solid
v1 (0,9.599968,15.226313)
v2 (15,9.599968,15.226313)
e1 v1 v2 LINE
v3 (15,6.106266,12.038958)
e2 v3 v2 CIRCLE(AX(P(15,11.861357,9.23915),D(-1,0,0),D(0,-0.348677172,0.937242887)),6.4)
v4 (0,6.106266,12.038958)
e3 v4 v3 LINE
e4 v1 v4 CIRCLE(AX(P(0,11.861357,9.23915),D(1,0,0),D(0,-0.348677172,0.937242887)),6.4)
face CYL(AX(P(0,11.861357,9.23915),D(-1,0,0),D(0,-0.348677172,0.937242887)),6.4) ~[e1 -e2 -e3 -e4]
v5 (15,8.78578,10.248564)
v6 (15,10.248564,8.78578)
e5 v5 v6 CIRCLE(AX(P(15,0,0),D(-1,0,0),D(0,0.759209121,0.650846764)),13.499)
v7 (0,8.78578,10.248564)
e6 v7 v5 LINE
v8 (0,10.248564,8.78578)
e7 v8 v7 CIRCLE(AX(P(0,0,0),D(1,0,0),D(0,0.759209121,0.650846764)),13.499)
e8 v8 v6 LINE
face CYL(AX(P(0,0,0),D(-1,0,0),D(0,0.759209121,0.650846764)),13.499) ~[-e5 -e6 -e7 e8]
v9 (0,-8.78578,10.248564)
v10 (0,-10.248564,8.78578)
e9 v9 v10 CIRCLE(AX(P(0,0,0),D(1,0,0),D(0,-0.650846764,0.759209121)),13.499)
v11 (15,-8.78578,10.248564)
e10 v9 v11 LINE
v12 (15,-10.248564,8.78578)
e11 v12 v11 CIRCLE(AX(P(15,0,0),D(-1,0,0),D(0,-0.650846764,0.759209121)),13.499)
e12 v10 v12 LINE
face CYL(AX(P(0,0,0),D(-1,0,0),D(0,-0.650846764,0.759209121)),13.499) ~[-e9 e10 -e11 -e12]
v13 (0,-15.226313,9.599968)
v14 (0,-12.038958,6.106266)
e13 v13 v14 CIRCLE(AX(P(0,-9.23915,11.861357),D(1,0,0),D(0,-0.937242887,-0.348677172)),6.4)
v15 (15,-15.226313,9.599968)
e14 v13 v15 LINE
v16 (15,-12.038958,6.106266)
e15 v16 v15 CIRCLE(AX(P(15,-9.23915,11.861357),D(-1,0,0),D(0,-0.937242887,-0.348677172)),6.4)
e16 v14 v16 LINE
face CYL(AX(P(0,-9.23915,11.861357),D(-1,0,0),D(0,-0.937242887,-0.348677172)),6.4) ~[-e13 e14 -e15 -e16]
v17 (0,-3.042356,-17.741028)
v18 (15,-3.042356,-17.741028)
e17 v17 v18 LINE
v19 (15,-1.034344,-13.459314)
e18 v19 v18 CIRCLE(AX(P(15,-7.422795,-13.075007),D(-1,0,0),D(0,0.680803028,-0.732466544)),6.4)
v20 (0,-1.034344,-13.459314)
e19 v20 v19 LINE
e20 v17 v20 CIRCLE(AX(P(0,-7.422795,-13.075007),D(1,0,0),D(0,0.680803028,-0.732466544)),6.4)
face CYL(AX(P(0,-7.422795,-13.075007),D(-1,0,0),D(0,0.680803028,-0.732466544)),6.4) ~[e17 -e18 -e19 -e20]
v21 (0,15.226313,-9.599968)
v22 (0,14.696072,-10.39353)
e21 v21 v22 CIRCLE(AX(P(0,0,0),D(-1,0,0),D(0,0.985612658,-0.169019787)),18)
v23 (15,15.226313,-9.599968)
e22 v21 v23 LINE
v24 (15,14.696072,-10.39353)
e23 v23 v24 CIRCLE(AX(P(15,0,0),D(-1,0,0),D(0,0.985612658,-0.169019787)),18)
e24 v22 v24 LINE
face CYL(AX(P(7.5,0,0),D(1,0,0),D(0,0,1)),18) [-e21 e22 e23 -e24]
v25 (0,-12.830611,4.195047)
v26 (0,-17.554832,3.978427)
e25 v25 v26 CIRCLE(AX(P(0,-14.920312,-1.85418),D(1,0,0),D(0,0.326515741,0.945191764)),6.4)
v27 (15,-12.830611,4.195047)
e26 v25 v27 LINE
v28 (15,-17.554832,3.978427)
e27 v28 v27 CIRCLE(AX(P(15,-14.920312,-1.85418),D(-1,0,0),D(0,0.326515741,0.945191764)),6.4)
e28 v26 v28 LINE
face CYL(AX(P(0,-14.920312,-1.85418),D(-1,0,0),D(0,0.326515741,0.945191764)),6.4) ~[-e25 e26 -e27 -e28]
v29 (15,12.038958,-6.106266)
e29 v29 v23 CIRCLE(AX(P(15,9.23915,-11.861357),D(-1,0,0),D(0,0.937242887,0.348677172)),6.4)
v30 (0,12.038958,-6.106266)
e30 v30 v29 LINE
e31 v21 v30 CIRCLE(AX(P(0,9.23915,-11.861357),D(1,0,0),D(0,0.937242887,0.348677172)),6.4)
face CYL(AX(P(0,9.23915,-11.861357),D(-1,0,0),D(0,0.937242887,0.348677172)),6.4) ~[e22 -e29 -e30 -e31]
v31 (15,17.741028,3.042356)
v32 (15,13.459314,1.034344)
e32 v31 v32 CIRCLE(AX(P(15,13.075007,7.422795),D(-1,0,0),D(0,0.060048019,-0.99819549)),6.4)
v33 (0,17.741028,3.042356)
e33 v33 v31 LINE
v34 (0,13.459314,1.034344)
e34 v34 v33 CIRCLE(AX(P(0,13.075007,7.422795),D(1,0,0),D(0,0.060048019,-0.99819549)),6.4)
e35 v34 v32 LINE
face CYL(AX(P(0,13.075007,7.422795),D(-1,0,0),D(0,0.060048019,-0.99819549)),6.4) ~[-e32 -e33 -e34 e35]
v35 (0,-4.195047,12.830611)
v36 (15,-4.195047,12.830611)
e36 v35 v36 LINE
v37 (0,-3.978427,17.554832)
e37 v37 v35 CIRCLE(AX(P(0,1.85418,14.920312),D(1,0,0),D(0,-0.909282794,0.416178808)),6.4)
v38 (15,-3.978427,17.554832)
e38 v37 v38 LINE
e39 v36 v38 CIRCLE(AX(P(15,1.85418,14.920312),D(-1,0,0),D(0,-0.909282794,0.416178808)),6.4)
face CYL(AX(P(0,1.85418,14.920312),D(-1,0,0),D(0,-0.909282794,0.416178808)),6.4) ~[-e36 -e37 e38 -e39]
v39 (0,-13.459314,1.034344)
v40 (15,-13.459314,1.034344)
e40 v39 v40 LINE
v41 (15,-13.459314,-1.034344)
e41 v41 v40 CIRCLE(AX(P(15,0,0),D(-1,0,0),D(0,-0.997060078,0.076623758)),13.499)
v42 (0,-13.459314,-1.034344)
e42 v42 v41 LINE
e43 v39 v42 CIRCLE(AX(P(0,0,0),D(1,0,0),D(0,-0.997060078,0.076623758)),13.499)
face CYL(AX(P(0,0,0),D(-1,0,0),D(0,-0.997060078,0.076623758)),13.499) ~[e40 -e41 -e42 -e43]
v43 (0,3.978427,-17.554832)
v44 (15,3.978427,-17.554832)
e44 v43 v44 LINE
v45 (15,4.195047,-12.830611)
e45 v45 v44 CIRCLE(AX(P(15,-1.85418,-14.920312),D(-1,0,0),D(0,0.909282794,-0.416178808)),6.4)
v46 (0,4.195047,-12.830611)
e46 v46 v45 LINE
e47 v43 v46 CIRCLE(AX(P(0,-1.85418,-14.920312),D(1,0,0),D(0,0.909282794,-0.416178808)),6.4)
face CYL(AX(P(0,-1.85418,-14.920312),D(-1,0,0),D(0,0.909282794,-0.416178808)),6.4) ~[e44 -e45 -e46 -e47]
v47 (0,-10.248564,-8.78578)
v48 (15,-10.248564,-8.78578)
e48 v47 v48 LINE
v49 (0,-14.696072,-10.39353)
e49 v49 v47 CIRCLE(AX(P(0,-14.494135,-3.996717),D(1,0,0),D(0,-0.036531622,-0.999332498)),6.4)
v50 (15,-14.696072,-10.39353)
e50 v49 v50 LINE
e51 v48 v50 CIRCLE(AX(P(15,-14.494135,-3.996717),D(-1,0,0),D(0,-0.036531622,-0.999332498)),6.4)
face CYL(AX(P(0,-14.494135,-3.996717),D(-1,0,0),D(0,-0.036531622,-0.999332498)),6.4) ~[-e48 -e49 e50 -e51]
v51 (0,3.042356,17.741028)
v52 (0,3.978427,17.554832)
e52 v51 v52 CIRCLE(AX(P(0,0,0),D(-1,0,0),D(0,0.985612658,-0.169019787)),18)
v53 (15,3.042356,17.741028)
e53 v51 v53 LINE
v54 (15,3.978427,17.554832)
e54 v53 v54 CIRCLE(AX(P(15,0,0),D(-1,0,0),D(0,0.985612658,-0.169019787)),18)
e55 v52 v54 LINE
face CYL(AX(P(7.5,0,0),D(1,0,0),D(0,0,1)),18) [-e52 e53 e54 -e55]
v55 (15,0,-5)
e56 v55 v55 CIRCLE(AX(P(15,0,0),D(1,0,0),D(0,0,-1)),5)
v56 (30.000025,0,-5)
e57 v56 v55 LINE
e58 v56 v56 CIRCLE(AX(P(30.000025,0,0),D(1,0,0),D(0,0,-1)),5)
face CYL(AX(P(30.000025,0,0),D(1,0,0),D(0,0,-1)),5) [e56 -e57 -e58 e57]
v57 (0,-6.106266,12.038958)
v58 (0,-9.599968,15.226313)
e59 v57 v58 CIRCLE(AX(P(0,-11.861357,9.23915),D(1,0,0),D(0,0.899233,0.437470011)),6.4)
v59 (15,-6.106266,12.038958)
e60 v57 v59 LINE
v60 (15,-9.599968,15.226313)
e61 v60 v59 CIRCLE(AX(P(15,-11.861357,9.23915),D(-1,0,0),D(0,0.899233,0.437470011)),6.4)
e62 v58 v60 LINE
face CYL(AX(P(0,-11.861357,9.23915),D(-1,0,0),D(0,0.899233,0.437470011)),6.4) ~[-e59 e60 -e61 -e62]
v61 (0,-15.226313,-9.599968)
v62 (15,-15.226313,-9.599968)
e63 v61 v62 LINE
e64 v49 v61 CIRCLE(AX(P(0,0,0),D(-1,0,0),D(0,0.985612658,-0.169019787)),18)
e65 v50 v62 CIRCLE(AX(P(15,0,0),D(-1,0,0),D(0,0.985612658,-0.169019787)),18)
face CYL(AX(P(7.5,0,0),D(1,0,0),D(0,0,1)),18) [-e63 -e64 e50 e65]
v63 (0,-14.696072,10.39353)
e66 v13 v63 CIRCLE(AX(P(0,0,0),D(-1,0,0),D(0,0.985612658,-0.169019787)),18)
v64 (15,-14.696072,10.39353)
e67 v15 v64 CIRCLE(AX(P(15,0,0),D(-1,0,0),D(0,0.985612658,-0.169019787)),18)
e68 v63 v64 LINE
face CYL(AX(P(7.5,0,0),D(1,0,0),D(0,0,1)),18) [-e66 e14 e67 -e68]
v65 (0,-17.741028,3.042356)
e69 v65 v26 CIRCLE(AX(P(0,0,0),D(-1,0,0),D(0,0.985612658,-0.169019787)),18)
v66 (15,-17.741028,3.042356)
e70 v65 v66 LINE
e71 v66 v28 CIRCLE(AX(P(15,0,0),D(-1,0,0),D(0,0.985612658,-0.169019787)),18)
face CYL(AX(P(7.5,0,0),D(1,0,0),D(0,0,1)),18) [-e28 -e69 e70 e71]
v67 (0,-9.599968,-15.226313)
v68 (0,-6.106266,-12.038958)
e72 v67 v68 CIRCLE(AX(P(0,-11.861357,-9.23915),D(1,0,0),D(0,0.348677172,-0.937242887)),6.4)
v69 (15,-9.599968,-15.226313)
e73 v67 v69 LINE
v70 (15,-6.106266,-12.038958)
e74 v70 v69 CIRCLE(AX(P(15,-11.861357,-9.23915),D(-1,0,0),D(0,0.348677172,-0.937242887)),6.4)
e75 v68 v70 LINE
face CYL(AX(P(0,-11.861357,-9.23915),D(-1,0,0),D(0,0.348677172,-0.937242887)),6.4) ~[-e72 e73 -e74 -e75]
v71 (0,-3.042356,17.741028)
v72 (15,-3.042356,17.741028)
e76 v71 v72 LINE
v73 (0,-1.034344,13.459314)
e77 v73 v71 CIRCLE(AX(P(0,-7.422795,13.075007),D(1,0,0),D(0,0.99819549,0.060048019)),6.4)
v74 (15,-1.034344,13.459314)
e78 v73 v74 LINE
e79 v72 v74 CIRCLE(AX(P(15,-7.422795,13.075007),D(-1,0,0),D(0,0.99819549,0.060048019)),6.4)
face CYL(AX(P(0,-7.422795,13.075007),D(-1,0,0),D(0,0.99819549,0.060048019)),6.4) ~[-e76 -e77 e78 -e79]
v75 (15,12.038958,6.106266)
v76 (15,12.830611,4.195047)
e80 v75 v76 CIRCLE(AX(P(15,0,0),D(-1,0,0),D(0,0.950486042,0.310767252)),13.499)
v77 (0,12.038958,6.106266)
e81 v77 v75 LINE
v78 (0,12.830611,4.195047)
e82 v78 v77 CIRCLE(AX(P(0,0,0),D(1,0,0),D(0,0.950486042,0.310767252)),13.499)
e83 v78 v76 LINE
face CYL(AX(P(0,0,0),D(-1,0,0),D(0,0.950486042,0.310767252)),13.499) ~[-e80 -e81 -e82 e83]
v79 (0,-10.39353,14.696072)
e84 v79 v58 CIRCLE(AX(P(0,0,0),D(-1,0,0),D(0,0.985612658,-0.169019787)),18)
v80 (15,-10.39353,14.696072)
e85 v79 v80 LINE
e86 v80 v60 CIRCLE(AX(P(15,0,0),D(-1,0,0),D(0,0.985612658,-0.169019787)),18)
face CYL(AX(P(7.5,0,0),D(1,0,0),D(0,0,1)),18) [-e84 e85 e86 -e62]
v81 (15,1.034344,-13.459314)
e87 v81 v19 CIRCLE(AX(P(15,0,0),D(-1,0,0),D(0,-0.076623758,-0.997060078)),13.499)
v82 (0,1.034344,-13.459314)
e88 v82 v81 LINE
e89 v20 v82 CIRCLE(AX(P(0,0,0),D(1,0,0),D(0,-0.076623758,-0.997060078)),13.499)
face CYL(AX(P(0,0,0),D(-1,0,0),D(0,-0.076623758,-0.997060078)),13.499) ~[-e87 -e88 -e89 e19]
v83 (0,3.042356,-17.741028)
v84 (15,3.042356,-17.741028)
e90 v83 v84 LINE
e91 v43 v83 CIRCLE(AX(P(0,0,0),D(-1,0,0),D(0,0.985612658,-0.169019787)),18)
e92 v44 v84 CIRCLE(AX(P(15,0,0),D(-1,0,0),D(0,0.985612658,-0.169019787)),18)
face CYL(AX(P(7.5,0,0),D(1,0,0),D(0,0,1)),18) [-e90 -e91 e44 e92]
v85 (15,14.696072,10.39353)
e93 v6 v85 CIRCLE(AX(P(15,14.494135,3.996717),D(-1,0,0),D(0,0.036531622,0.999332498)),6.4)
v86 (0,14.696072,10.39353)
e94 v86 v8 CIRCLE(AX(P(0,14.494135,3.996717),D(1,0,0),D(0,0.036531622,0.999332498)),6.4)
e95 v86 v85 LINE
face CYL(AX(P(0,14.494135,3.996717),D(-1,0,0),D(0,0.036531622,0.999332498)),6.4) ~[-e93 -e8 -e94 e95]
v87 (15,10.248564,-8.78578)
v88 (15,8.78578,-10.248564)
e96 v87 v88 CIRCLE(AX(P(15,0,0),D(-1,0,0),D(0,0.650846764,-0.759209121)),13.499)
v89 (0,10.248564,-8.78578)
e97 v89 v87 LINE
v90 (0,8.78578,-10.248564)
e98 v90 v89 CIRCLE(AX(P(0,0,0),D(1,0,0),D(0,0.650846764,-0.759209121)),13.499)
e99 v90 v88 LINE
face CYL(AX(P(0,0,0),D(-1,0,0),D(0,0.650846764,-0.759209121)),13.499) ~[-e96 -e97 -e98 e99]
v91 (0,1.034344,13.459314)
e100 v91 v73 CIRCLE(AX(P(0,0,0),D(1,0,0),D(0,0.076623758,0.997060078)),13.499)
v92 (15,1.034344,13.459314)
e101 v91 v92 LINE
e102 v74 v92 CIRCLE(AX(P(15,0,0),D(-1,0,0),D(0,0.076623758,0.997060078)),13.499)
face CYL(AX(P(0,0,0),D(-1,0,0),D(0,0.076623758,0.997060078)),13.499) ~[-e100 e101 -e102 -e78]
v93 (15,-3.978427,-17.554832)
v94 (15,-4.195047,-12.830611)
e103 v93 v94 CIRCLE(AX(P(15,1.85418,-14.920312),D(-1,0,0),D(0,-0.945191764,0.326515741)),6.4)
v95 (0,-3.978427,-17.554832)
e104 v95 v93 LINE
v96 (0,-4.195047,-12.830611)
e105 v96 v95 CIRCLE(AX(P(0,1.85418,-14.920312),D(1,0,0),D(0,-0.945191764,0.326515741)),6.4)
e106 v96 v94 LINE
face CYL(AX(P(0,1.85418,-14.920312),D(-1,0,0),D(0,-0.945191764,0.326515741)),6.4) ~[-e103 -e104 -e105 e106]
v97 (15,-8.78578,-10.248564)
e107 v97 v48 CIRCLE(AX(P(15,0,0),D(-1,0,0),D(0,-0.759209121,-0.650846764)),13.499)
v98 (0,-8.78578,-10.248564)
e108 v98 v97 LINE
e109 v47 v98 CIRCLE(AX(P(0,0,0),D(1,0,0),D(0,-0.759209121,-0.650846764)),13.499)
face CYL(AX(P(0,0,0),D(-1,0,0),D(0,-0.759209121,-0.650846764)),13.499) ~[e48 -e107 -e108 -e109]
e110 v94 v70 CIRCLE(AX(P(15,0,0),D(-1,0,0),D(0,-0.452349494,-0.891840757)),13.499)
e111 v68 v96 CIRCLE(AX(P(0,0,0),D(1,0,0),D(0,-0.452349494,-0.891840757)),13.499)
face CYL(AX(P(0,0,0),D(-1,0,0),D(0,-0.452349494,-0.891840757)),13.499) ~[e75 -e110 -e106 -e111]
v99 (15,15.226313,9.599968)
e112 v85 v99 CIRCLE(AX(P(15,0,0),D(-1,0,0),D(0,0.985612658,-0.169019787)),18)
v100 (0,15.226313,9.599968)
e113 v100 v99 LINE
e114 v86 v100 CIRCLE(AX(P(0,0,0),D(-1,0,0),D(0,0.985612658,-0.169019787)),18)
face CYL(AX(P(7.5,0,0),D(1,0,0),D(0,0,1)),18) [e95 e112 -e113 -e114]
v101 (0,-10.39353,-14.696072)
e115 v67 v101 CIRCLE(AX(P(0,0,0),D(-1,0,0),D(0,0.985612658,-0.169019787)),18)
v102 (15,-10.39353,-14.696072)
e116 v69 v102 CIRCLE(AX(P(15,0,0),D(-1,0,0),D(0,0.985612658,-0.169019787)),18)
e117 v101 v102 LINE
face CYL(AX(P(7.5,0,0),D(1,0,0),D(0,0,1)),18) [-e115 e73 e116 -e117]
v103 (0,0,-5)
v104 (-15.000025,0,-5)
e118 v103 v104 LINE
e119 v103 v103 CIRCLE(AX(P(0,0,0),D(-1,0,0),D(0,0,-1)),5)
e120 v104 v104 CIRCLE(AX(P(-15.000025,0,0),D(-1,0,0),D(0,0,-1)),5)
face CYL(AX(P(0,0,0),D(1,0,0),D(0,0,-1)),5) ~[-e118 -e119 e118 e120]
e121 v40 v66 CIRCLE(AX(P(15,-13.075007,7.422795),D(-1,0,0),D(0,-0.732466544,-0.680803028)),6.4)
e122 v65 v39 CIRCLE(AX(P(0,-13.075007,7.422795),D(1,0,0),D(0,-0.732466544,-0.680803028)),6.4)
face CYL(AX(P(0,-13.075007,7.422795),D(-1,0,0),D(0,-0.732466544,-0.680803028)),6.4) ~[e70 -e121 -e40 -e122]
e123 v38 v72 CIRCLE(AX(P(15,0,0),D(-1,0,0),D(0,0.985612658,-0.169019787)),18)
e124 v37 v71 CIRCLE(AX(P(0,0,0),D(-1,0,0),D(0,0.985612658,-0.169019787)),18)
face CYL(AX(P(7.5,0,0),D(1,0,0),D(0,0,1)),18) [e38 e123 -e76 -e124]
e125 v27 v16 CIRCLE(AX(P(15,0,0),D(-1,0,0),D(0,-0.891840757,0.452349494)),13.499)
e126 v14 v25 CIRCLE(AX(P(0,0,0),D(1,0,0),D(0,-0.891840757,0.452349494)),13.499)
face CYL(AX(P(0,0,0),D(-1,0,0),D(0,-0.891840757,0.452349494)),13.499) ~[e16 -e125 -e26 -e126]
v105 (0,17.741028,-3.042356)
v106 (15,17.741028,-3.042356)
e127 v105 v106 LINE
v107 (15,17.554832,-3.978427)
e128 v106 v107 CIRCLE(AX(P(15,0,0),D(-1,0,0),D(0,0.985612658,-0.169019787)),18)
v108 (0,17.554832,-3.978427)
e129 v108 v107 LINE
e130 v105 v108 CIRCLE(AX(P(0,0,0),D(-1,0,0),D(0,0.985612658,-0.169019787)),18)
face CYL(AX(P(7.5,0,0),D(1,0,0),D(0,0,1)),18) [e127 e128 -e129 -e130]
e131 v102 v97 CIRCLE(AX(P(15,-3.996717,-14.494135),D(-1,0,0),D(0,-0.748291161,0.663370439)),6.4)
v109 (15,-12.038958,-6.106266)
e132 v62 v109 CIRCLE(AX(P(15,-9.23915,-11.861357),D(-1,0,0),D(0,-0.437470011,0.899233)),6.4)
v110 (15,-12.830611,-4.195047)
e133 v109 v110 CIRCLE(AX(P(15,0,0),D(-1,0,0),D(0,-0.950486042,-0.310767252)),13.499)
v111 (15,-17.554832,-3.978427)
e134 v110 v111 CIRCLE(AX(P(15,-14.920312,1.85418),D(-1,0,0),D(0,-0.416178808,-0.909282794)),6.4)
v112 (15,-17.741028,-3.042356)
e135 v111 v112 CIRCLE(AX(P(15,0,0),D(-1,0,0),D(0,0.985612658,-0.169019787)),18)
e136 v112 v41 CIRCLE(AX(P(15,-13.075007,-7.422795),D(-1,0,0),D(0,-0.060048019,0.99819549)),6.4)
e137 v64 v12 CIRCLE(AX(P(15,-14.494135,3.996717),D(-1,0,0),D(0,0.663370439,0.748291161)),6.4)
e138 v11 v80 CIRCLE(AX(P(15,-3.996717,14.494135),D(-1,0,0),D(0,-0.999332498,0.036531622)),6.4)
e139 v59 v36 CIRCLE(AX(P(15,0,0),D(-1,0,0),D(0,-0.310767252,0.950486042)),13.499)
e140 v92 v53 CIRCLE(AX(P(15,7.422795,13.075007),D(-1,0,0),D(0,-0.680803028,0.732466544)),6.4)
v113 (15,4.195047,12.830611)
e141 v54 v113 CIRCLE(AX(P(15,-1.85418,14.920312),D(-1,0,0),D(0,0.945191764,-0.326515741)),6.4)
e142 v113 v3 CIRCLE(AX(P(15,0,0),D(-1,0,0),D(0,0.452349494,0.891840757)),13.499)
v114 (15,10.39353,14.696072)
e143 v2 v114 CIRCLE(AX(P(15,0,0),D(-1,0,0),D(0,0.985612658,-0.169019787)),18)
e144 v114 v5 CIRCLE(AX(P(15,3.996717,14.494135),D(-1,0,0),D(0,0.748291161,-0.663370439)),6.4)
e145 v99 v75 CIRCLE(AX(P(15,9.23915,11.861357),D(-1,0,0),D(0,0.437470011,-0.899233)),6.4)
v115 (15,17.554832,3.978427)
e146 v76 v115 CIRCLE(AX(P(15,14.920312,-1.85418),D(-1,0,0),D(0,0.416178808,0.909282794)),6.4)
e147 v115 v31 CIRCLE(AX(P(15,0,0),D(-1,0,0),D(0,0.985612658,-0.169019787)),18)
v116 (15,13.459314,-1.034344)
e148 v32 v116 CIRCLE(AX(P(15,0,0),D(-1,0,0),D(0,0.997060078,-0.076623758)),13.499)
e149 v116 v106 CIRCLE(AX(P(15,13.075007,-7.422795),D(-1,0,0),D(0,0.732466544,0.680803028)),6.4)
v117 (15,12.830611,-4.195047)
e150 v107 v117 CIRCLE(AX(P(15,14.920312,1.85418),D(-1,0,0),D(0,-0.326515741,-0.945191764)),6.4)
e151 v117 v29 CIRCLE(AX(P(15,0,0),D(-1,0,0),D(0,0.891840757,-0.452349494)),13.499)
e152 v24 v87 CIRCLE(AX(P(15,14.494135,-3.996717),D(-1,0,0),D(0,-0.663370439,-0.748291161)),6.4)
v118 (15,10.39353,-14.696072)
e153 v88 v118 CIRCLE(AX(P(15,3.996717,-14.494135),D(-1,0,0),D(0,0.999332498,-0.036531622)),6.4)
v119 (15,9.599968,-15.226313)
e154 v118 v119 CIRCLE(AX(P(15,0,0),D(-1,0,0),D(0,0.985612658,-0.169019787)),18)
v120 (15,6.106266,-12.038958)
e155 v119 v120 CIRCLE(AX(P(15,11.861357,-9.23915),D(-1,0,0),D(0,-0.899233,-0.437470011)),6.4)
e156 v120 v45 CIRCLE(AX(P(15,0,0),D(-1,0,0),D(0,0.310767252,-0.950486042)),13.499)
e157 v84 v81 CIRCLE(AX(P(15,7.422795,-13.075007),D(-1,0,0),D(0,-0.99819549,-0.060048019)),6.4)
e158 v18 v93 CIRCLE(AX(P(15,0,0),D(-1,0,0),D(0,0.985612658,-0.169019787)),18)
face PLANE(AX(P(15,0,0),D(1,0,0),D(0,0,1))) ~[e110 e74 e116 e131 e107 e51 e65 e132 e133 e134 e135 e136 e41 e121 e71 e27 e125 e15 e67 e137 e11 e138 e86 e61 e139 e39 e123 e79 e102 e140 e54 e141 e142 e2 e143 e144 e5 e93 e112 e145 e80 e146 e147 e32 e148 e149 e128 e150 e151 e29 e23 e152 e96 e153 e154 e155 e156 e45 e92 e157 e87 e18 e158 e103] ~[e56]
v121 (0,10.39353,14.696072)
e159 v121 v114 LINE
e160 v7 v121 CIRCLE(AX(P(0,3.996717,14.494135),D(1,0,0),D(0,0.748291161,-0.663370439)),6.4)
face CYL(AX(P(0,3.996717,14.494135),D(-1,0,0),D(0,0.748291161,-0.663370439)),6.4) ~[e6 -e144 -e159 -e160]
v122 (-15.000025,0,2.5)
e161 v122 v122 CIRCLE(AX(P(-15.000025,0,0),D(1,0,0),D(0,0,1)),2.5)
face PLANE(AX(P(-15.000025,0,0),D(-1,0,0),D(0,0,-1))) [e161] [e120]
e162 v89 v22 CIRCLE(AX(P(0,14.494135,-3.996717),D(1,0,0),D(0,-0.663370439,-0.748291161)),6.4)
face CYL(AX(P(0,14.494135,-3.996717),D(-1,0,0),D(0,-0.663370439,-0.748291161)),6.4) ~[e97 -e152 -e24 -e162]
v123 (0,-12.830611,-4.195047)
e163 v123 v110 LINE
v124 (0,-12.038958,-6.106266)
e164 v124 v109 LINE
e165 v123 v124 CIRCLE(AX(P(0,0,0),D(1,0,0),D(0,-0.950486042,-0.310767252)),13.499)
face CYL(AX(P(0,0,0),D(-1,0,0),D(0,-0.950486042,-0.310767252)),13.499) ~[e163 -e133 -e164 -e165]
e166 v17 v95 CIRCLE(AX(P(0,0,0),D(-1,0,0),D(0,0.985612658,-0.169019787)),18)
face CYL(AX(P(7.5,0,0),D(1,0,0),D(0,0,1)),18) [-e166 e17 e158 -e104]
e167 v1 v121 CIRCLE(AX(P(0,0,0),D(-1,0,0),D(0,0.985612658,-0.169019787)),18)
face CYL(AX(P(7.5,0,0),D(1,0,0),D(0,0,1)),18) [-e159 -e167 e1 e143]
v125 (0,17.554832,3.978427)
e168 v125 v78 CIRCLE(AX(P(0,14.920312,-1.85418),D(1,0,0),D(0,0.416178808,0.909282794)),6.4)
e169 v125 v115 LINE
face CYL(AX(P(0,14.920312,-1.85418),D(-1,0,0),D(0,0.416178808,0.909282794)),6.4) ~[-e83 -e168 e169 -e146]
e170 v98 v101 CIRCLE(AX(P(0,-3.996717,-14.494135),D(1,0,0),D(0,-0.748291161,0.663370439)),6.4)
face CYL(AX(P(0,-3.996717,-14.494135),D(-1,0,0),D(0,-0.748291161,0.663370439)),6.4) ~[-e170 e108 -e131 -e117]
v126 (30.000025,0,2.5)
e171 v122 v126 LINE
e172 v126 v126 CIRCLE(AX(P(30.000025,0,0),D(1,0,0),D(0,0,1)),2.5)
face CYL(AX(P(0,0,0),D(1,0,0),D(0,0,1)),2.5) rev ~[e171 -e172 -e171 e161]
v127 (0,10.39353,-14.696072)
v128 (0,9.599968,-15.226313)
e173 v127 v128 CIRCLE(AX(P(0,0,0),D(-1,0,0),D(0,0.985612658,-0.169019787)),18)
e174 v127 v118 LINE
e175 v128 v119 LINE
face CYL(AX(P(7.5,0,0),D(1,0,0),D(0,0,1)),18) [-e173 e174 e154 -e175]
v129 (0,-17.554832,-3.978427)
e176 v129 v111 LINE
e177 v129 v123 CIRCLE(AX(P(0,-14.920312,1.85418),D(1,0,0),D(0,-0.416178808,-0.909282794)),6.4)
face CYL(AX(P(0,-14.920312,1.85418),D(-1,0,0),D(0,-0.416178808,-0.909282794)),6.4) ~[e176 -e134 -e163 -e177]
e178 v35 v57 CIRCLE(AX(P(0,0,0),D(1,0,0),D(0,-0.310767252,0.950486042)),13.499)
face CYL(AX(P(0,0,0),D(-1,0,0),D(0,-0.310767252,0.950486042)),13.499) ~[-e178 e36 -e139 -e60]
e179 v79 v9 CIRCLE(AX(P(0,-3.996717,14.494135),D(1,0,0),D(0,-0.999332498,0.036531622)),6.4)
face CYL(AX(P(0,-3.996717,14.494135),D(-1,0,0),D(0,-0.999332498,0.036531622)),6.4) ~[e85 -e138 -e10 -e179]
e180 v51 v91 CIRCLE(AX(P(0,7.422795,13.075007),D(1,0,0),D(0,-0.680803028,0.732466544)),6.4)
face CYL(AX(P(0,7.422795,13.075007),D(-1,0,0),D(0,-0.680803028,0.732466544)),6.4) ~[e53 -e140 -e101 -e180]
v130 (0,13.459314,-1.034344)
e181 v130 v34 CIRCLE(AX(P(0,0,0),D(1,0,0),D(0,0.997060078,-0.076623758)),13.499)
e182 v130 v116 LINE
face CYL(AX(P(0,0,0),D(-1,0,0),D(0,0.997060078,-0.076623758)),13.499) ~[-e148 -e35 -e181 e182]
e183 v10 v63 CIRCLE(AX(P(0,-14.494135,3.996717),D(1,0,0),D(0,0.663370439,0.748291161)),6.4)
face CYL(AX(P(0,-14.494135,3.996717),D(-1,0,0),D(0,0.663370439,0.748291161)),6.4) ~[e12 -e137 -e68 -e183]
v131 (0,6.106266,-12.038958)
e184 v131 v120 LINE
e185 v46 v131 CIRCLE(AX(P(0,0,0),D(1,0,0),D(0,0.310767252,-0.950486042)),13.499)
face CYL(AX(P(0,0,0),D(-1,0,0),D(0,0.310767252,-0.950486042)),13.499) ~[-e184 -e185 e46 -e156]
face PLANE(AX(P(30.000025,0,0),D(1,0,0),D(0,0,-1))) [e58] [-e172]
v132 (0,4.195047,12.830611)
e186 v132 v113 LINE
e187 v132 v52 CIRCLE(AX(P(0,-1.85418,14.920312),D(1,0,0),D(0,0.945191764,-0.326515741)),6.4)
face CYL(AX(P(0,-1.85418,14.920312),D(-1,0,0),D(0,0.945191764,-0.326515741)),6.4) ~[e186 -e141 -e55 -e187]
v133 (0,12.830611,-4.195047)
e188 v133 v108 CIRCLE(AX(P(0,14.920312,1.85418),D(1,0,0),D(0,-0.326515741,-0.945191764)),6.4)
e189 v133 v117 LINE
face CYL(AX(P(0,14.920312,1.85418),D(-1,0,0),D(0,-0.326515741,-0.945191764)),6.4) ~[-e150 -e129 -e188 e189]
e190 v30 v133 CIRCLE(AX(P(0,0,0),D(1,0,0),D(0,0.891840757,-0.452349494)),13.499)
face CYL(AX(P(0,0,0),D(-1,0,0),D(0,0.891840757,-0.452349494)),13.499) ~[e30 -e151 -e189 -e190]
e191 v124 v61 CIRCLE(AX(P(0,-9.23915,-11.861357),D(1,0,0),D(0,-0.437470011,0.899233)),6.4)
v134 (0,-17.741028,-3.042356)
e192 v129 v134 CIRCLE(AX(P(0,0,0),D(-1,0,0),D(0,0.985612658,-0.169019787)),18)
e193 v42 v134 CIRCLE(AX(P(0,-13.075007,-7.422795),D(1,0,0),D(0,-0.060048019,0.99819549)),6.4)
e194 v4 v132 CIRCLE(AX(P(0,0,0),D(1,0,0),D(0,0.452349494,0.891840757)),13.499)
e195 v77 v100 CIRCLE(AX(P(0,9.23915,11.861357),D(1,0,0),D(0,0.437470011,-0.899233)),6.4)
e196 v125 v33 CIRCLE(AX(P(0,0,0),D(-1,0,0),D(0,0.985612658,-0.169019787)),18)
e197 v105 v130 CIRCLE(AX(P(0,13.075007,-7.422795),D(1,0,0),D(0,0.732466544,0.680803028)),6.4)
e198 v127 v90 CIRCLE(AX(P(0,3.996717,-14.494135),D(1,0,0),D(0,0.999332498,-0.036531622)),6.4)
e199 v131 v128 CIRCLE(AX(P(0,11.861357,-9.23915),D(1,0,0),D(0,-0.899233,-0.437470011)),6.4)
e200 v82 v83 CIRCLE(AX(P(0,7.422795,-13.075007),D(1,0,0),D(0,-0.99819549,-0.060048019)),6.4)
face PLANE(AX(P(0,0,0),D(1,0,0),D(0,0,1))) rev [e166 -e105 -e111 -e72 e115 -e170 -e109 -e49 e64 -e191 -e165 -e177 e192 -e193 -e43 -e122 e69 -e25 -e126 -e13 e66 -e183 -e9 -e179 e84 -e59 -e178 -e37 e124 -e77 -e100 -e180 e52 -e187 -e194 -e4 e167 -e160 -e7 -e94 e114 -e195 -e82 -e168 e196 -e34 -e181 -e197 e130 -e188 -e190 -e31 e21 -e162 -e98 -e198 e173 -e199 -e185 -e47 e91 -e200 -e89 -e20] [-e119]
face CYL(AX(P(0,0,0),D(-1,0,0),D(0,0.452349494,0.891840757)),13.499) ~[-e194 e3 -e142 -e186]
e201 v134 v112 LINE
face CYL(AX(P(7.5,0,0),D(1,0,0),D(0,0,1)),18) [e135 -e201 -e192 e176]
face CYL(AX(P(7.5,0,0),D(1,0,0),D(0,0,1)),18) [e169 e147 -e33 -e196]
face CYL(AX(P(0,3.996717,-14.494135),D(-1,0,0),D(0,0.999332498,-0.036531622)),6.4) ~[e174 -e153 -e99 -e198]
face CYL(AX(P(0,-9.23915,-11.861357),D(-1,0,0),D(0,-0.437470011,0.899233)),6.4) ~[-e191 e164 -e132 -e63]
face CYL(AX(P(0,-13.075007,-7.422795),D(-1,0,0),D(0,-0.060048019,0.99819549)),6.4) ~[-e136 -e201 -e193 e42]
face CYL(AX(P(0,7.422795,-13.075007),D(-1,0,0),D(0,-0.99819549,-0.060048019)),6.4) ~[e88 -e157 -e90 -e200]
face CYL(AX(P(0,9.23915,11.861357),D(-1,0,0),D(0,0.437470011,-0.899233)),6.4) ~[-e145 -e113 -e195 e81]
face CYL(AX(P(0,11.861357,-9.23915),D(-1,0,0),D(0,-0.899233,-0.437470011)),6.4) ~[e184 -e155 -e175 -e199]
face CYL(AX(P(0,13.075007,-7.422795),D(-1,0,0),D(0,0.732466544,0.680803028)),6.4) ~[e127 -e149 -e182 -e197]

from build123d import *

# Parameters (mm, degrees)
BASPROSKE_W       = 15
BASPROSKE_H       = 18
TOOTHCUT_DEPTH    = 30.546573405
TEETHCUTS_COUNT   = 16
TEETHCUTS_ANGLE   = 337.5
HUBNEABOTSKE_R    = 5
HUBNEARBOTH_DEPTH = 15.0000254
HUBFAR_START      = 15.0000254
HUBFARSKE_R       = 5
HUBFAR_DEPTH      = 15.0000254
BORSKE_R          = 2.5
BORE_DEPTH        = 45.0000508


with BuildPart() as part:
    # BasProSke → Base-Revolve (revolve)
    with BuildSketch(Plane(origin=(0, 0, 0), x_dir=(1, 0, 0), z_dir=(0, 1, 0)), mode=Mode.PRIVATE) as base_revolve_sk:
        with Locations((7.5, 9)):
            Rectangle(BASPROSKE_W, BASPROSKE_H)
    revolve(base_revolve_sk.sketch.rotate(Axis((-10, 0, 0), (1, 0, 0)), 180), axis=Axis((-10, 0, 0), (1, 0, 0)))

    # TooCutSke → ToothCut (cut, through all)
    with BuildSketch(Plane(origin=(0, 0, 0), x_dir=(0, 0, -1), z_dir=(1, 0, 0))):
        with BuildLine():
            ThreePointArc((1.03434411, 13.459313997), (0, 13.499), (-1.03434411, 13.459313997))
            ThreePointArc((-1.03434411, 13.459313997), (-1.635143665, 15.806872195), (-3.065655864, 17.762792553))
            ThreePointArc((-3.065655864, 17.762792553), (0, 18.0254), (3.065655864, 17.762792553))
            ThreePointArc((3.065655864, 17.762792553), (1.635143665, 15.806872195), (1.03434411, 13.459313997))
        make_face()
    toothcut = extrude(amount=TOOTHCUT_DEPTH, mode=Mode.SUBTRACT)

    # TeethCuts: ToothCut ×16 about axis
    teethcuts_axis = Axis((-10, 0, 0), (1, 0, 0))
    for i in range(1, TEETHCUTS_COUNT):
        add(toothcut.rotate(teethcuts_axis, i * TEETHCUTS_ANGLE / (TEETHCUTS_COUNT - 1)), mode=Mode.SUBTRACT)

    # HubNeaBotSke → HubNearBoth (add)
    with BuildSketch(Plane.ZY):
        with Locations(Location((0, 0, 0), (0, 0, 180))):
            Circle(HUBNEABOTSKE_R)
    extrude(amount=HUBNEARBOTH_DEPTH)

    # HubFarSke → HubFar (add)
    with BuildSketch(Plane(origin=(15, 0, 0), x_dir=(0, 0, -1), z_dir=(1, 0, 0)).offset(HUBFAR_START)):
        Circle(HUBFARSKE_R)
    extrude(amount=-HUBFAR_DEPTH)

    # BorSke → Bore (cut, symmetric)
    with BuildSketch(Plane(origin=(0, 0, 0), x_dir=(0, 0, -1), z_dir=(1, 0, 0))):
        with Locations(Location((0, 0, 0), (0, 0, 180))):
            Circle(BORSKE_R)
    extrude(amount=BORE_DEPTH, both=True, mode=Mode.SUBTRACT)


solid = part.part
